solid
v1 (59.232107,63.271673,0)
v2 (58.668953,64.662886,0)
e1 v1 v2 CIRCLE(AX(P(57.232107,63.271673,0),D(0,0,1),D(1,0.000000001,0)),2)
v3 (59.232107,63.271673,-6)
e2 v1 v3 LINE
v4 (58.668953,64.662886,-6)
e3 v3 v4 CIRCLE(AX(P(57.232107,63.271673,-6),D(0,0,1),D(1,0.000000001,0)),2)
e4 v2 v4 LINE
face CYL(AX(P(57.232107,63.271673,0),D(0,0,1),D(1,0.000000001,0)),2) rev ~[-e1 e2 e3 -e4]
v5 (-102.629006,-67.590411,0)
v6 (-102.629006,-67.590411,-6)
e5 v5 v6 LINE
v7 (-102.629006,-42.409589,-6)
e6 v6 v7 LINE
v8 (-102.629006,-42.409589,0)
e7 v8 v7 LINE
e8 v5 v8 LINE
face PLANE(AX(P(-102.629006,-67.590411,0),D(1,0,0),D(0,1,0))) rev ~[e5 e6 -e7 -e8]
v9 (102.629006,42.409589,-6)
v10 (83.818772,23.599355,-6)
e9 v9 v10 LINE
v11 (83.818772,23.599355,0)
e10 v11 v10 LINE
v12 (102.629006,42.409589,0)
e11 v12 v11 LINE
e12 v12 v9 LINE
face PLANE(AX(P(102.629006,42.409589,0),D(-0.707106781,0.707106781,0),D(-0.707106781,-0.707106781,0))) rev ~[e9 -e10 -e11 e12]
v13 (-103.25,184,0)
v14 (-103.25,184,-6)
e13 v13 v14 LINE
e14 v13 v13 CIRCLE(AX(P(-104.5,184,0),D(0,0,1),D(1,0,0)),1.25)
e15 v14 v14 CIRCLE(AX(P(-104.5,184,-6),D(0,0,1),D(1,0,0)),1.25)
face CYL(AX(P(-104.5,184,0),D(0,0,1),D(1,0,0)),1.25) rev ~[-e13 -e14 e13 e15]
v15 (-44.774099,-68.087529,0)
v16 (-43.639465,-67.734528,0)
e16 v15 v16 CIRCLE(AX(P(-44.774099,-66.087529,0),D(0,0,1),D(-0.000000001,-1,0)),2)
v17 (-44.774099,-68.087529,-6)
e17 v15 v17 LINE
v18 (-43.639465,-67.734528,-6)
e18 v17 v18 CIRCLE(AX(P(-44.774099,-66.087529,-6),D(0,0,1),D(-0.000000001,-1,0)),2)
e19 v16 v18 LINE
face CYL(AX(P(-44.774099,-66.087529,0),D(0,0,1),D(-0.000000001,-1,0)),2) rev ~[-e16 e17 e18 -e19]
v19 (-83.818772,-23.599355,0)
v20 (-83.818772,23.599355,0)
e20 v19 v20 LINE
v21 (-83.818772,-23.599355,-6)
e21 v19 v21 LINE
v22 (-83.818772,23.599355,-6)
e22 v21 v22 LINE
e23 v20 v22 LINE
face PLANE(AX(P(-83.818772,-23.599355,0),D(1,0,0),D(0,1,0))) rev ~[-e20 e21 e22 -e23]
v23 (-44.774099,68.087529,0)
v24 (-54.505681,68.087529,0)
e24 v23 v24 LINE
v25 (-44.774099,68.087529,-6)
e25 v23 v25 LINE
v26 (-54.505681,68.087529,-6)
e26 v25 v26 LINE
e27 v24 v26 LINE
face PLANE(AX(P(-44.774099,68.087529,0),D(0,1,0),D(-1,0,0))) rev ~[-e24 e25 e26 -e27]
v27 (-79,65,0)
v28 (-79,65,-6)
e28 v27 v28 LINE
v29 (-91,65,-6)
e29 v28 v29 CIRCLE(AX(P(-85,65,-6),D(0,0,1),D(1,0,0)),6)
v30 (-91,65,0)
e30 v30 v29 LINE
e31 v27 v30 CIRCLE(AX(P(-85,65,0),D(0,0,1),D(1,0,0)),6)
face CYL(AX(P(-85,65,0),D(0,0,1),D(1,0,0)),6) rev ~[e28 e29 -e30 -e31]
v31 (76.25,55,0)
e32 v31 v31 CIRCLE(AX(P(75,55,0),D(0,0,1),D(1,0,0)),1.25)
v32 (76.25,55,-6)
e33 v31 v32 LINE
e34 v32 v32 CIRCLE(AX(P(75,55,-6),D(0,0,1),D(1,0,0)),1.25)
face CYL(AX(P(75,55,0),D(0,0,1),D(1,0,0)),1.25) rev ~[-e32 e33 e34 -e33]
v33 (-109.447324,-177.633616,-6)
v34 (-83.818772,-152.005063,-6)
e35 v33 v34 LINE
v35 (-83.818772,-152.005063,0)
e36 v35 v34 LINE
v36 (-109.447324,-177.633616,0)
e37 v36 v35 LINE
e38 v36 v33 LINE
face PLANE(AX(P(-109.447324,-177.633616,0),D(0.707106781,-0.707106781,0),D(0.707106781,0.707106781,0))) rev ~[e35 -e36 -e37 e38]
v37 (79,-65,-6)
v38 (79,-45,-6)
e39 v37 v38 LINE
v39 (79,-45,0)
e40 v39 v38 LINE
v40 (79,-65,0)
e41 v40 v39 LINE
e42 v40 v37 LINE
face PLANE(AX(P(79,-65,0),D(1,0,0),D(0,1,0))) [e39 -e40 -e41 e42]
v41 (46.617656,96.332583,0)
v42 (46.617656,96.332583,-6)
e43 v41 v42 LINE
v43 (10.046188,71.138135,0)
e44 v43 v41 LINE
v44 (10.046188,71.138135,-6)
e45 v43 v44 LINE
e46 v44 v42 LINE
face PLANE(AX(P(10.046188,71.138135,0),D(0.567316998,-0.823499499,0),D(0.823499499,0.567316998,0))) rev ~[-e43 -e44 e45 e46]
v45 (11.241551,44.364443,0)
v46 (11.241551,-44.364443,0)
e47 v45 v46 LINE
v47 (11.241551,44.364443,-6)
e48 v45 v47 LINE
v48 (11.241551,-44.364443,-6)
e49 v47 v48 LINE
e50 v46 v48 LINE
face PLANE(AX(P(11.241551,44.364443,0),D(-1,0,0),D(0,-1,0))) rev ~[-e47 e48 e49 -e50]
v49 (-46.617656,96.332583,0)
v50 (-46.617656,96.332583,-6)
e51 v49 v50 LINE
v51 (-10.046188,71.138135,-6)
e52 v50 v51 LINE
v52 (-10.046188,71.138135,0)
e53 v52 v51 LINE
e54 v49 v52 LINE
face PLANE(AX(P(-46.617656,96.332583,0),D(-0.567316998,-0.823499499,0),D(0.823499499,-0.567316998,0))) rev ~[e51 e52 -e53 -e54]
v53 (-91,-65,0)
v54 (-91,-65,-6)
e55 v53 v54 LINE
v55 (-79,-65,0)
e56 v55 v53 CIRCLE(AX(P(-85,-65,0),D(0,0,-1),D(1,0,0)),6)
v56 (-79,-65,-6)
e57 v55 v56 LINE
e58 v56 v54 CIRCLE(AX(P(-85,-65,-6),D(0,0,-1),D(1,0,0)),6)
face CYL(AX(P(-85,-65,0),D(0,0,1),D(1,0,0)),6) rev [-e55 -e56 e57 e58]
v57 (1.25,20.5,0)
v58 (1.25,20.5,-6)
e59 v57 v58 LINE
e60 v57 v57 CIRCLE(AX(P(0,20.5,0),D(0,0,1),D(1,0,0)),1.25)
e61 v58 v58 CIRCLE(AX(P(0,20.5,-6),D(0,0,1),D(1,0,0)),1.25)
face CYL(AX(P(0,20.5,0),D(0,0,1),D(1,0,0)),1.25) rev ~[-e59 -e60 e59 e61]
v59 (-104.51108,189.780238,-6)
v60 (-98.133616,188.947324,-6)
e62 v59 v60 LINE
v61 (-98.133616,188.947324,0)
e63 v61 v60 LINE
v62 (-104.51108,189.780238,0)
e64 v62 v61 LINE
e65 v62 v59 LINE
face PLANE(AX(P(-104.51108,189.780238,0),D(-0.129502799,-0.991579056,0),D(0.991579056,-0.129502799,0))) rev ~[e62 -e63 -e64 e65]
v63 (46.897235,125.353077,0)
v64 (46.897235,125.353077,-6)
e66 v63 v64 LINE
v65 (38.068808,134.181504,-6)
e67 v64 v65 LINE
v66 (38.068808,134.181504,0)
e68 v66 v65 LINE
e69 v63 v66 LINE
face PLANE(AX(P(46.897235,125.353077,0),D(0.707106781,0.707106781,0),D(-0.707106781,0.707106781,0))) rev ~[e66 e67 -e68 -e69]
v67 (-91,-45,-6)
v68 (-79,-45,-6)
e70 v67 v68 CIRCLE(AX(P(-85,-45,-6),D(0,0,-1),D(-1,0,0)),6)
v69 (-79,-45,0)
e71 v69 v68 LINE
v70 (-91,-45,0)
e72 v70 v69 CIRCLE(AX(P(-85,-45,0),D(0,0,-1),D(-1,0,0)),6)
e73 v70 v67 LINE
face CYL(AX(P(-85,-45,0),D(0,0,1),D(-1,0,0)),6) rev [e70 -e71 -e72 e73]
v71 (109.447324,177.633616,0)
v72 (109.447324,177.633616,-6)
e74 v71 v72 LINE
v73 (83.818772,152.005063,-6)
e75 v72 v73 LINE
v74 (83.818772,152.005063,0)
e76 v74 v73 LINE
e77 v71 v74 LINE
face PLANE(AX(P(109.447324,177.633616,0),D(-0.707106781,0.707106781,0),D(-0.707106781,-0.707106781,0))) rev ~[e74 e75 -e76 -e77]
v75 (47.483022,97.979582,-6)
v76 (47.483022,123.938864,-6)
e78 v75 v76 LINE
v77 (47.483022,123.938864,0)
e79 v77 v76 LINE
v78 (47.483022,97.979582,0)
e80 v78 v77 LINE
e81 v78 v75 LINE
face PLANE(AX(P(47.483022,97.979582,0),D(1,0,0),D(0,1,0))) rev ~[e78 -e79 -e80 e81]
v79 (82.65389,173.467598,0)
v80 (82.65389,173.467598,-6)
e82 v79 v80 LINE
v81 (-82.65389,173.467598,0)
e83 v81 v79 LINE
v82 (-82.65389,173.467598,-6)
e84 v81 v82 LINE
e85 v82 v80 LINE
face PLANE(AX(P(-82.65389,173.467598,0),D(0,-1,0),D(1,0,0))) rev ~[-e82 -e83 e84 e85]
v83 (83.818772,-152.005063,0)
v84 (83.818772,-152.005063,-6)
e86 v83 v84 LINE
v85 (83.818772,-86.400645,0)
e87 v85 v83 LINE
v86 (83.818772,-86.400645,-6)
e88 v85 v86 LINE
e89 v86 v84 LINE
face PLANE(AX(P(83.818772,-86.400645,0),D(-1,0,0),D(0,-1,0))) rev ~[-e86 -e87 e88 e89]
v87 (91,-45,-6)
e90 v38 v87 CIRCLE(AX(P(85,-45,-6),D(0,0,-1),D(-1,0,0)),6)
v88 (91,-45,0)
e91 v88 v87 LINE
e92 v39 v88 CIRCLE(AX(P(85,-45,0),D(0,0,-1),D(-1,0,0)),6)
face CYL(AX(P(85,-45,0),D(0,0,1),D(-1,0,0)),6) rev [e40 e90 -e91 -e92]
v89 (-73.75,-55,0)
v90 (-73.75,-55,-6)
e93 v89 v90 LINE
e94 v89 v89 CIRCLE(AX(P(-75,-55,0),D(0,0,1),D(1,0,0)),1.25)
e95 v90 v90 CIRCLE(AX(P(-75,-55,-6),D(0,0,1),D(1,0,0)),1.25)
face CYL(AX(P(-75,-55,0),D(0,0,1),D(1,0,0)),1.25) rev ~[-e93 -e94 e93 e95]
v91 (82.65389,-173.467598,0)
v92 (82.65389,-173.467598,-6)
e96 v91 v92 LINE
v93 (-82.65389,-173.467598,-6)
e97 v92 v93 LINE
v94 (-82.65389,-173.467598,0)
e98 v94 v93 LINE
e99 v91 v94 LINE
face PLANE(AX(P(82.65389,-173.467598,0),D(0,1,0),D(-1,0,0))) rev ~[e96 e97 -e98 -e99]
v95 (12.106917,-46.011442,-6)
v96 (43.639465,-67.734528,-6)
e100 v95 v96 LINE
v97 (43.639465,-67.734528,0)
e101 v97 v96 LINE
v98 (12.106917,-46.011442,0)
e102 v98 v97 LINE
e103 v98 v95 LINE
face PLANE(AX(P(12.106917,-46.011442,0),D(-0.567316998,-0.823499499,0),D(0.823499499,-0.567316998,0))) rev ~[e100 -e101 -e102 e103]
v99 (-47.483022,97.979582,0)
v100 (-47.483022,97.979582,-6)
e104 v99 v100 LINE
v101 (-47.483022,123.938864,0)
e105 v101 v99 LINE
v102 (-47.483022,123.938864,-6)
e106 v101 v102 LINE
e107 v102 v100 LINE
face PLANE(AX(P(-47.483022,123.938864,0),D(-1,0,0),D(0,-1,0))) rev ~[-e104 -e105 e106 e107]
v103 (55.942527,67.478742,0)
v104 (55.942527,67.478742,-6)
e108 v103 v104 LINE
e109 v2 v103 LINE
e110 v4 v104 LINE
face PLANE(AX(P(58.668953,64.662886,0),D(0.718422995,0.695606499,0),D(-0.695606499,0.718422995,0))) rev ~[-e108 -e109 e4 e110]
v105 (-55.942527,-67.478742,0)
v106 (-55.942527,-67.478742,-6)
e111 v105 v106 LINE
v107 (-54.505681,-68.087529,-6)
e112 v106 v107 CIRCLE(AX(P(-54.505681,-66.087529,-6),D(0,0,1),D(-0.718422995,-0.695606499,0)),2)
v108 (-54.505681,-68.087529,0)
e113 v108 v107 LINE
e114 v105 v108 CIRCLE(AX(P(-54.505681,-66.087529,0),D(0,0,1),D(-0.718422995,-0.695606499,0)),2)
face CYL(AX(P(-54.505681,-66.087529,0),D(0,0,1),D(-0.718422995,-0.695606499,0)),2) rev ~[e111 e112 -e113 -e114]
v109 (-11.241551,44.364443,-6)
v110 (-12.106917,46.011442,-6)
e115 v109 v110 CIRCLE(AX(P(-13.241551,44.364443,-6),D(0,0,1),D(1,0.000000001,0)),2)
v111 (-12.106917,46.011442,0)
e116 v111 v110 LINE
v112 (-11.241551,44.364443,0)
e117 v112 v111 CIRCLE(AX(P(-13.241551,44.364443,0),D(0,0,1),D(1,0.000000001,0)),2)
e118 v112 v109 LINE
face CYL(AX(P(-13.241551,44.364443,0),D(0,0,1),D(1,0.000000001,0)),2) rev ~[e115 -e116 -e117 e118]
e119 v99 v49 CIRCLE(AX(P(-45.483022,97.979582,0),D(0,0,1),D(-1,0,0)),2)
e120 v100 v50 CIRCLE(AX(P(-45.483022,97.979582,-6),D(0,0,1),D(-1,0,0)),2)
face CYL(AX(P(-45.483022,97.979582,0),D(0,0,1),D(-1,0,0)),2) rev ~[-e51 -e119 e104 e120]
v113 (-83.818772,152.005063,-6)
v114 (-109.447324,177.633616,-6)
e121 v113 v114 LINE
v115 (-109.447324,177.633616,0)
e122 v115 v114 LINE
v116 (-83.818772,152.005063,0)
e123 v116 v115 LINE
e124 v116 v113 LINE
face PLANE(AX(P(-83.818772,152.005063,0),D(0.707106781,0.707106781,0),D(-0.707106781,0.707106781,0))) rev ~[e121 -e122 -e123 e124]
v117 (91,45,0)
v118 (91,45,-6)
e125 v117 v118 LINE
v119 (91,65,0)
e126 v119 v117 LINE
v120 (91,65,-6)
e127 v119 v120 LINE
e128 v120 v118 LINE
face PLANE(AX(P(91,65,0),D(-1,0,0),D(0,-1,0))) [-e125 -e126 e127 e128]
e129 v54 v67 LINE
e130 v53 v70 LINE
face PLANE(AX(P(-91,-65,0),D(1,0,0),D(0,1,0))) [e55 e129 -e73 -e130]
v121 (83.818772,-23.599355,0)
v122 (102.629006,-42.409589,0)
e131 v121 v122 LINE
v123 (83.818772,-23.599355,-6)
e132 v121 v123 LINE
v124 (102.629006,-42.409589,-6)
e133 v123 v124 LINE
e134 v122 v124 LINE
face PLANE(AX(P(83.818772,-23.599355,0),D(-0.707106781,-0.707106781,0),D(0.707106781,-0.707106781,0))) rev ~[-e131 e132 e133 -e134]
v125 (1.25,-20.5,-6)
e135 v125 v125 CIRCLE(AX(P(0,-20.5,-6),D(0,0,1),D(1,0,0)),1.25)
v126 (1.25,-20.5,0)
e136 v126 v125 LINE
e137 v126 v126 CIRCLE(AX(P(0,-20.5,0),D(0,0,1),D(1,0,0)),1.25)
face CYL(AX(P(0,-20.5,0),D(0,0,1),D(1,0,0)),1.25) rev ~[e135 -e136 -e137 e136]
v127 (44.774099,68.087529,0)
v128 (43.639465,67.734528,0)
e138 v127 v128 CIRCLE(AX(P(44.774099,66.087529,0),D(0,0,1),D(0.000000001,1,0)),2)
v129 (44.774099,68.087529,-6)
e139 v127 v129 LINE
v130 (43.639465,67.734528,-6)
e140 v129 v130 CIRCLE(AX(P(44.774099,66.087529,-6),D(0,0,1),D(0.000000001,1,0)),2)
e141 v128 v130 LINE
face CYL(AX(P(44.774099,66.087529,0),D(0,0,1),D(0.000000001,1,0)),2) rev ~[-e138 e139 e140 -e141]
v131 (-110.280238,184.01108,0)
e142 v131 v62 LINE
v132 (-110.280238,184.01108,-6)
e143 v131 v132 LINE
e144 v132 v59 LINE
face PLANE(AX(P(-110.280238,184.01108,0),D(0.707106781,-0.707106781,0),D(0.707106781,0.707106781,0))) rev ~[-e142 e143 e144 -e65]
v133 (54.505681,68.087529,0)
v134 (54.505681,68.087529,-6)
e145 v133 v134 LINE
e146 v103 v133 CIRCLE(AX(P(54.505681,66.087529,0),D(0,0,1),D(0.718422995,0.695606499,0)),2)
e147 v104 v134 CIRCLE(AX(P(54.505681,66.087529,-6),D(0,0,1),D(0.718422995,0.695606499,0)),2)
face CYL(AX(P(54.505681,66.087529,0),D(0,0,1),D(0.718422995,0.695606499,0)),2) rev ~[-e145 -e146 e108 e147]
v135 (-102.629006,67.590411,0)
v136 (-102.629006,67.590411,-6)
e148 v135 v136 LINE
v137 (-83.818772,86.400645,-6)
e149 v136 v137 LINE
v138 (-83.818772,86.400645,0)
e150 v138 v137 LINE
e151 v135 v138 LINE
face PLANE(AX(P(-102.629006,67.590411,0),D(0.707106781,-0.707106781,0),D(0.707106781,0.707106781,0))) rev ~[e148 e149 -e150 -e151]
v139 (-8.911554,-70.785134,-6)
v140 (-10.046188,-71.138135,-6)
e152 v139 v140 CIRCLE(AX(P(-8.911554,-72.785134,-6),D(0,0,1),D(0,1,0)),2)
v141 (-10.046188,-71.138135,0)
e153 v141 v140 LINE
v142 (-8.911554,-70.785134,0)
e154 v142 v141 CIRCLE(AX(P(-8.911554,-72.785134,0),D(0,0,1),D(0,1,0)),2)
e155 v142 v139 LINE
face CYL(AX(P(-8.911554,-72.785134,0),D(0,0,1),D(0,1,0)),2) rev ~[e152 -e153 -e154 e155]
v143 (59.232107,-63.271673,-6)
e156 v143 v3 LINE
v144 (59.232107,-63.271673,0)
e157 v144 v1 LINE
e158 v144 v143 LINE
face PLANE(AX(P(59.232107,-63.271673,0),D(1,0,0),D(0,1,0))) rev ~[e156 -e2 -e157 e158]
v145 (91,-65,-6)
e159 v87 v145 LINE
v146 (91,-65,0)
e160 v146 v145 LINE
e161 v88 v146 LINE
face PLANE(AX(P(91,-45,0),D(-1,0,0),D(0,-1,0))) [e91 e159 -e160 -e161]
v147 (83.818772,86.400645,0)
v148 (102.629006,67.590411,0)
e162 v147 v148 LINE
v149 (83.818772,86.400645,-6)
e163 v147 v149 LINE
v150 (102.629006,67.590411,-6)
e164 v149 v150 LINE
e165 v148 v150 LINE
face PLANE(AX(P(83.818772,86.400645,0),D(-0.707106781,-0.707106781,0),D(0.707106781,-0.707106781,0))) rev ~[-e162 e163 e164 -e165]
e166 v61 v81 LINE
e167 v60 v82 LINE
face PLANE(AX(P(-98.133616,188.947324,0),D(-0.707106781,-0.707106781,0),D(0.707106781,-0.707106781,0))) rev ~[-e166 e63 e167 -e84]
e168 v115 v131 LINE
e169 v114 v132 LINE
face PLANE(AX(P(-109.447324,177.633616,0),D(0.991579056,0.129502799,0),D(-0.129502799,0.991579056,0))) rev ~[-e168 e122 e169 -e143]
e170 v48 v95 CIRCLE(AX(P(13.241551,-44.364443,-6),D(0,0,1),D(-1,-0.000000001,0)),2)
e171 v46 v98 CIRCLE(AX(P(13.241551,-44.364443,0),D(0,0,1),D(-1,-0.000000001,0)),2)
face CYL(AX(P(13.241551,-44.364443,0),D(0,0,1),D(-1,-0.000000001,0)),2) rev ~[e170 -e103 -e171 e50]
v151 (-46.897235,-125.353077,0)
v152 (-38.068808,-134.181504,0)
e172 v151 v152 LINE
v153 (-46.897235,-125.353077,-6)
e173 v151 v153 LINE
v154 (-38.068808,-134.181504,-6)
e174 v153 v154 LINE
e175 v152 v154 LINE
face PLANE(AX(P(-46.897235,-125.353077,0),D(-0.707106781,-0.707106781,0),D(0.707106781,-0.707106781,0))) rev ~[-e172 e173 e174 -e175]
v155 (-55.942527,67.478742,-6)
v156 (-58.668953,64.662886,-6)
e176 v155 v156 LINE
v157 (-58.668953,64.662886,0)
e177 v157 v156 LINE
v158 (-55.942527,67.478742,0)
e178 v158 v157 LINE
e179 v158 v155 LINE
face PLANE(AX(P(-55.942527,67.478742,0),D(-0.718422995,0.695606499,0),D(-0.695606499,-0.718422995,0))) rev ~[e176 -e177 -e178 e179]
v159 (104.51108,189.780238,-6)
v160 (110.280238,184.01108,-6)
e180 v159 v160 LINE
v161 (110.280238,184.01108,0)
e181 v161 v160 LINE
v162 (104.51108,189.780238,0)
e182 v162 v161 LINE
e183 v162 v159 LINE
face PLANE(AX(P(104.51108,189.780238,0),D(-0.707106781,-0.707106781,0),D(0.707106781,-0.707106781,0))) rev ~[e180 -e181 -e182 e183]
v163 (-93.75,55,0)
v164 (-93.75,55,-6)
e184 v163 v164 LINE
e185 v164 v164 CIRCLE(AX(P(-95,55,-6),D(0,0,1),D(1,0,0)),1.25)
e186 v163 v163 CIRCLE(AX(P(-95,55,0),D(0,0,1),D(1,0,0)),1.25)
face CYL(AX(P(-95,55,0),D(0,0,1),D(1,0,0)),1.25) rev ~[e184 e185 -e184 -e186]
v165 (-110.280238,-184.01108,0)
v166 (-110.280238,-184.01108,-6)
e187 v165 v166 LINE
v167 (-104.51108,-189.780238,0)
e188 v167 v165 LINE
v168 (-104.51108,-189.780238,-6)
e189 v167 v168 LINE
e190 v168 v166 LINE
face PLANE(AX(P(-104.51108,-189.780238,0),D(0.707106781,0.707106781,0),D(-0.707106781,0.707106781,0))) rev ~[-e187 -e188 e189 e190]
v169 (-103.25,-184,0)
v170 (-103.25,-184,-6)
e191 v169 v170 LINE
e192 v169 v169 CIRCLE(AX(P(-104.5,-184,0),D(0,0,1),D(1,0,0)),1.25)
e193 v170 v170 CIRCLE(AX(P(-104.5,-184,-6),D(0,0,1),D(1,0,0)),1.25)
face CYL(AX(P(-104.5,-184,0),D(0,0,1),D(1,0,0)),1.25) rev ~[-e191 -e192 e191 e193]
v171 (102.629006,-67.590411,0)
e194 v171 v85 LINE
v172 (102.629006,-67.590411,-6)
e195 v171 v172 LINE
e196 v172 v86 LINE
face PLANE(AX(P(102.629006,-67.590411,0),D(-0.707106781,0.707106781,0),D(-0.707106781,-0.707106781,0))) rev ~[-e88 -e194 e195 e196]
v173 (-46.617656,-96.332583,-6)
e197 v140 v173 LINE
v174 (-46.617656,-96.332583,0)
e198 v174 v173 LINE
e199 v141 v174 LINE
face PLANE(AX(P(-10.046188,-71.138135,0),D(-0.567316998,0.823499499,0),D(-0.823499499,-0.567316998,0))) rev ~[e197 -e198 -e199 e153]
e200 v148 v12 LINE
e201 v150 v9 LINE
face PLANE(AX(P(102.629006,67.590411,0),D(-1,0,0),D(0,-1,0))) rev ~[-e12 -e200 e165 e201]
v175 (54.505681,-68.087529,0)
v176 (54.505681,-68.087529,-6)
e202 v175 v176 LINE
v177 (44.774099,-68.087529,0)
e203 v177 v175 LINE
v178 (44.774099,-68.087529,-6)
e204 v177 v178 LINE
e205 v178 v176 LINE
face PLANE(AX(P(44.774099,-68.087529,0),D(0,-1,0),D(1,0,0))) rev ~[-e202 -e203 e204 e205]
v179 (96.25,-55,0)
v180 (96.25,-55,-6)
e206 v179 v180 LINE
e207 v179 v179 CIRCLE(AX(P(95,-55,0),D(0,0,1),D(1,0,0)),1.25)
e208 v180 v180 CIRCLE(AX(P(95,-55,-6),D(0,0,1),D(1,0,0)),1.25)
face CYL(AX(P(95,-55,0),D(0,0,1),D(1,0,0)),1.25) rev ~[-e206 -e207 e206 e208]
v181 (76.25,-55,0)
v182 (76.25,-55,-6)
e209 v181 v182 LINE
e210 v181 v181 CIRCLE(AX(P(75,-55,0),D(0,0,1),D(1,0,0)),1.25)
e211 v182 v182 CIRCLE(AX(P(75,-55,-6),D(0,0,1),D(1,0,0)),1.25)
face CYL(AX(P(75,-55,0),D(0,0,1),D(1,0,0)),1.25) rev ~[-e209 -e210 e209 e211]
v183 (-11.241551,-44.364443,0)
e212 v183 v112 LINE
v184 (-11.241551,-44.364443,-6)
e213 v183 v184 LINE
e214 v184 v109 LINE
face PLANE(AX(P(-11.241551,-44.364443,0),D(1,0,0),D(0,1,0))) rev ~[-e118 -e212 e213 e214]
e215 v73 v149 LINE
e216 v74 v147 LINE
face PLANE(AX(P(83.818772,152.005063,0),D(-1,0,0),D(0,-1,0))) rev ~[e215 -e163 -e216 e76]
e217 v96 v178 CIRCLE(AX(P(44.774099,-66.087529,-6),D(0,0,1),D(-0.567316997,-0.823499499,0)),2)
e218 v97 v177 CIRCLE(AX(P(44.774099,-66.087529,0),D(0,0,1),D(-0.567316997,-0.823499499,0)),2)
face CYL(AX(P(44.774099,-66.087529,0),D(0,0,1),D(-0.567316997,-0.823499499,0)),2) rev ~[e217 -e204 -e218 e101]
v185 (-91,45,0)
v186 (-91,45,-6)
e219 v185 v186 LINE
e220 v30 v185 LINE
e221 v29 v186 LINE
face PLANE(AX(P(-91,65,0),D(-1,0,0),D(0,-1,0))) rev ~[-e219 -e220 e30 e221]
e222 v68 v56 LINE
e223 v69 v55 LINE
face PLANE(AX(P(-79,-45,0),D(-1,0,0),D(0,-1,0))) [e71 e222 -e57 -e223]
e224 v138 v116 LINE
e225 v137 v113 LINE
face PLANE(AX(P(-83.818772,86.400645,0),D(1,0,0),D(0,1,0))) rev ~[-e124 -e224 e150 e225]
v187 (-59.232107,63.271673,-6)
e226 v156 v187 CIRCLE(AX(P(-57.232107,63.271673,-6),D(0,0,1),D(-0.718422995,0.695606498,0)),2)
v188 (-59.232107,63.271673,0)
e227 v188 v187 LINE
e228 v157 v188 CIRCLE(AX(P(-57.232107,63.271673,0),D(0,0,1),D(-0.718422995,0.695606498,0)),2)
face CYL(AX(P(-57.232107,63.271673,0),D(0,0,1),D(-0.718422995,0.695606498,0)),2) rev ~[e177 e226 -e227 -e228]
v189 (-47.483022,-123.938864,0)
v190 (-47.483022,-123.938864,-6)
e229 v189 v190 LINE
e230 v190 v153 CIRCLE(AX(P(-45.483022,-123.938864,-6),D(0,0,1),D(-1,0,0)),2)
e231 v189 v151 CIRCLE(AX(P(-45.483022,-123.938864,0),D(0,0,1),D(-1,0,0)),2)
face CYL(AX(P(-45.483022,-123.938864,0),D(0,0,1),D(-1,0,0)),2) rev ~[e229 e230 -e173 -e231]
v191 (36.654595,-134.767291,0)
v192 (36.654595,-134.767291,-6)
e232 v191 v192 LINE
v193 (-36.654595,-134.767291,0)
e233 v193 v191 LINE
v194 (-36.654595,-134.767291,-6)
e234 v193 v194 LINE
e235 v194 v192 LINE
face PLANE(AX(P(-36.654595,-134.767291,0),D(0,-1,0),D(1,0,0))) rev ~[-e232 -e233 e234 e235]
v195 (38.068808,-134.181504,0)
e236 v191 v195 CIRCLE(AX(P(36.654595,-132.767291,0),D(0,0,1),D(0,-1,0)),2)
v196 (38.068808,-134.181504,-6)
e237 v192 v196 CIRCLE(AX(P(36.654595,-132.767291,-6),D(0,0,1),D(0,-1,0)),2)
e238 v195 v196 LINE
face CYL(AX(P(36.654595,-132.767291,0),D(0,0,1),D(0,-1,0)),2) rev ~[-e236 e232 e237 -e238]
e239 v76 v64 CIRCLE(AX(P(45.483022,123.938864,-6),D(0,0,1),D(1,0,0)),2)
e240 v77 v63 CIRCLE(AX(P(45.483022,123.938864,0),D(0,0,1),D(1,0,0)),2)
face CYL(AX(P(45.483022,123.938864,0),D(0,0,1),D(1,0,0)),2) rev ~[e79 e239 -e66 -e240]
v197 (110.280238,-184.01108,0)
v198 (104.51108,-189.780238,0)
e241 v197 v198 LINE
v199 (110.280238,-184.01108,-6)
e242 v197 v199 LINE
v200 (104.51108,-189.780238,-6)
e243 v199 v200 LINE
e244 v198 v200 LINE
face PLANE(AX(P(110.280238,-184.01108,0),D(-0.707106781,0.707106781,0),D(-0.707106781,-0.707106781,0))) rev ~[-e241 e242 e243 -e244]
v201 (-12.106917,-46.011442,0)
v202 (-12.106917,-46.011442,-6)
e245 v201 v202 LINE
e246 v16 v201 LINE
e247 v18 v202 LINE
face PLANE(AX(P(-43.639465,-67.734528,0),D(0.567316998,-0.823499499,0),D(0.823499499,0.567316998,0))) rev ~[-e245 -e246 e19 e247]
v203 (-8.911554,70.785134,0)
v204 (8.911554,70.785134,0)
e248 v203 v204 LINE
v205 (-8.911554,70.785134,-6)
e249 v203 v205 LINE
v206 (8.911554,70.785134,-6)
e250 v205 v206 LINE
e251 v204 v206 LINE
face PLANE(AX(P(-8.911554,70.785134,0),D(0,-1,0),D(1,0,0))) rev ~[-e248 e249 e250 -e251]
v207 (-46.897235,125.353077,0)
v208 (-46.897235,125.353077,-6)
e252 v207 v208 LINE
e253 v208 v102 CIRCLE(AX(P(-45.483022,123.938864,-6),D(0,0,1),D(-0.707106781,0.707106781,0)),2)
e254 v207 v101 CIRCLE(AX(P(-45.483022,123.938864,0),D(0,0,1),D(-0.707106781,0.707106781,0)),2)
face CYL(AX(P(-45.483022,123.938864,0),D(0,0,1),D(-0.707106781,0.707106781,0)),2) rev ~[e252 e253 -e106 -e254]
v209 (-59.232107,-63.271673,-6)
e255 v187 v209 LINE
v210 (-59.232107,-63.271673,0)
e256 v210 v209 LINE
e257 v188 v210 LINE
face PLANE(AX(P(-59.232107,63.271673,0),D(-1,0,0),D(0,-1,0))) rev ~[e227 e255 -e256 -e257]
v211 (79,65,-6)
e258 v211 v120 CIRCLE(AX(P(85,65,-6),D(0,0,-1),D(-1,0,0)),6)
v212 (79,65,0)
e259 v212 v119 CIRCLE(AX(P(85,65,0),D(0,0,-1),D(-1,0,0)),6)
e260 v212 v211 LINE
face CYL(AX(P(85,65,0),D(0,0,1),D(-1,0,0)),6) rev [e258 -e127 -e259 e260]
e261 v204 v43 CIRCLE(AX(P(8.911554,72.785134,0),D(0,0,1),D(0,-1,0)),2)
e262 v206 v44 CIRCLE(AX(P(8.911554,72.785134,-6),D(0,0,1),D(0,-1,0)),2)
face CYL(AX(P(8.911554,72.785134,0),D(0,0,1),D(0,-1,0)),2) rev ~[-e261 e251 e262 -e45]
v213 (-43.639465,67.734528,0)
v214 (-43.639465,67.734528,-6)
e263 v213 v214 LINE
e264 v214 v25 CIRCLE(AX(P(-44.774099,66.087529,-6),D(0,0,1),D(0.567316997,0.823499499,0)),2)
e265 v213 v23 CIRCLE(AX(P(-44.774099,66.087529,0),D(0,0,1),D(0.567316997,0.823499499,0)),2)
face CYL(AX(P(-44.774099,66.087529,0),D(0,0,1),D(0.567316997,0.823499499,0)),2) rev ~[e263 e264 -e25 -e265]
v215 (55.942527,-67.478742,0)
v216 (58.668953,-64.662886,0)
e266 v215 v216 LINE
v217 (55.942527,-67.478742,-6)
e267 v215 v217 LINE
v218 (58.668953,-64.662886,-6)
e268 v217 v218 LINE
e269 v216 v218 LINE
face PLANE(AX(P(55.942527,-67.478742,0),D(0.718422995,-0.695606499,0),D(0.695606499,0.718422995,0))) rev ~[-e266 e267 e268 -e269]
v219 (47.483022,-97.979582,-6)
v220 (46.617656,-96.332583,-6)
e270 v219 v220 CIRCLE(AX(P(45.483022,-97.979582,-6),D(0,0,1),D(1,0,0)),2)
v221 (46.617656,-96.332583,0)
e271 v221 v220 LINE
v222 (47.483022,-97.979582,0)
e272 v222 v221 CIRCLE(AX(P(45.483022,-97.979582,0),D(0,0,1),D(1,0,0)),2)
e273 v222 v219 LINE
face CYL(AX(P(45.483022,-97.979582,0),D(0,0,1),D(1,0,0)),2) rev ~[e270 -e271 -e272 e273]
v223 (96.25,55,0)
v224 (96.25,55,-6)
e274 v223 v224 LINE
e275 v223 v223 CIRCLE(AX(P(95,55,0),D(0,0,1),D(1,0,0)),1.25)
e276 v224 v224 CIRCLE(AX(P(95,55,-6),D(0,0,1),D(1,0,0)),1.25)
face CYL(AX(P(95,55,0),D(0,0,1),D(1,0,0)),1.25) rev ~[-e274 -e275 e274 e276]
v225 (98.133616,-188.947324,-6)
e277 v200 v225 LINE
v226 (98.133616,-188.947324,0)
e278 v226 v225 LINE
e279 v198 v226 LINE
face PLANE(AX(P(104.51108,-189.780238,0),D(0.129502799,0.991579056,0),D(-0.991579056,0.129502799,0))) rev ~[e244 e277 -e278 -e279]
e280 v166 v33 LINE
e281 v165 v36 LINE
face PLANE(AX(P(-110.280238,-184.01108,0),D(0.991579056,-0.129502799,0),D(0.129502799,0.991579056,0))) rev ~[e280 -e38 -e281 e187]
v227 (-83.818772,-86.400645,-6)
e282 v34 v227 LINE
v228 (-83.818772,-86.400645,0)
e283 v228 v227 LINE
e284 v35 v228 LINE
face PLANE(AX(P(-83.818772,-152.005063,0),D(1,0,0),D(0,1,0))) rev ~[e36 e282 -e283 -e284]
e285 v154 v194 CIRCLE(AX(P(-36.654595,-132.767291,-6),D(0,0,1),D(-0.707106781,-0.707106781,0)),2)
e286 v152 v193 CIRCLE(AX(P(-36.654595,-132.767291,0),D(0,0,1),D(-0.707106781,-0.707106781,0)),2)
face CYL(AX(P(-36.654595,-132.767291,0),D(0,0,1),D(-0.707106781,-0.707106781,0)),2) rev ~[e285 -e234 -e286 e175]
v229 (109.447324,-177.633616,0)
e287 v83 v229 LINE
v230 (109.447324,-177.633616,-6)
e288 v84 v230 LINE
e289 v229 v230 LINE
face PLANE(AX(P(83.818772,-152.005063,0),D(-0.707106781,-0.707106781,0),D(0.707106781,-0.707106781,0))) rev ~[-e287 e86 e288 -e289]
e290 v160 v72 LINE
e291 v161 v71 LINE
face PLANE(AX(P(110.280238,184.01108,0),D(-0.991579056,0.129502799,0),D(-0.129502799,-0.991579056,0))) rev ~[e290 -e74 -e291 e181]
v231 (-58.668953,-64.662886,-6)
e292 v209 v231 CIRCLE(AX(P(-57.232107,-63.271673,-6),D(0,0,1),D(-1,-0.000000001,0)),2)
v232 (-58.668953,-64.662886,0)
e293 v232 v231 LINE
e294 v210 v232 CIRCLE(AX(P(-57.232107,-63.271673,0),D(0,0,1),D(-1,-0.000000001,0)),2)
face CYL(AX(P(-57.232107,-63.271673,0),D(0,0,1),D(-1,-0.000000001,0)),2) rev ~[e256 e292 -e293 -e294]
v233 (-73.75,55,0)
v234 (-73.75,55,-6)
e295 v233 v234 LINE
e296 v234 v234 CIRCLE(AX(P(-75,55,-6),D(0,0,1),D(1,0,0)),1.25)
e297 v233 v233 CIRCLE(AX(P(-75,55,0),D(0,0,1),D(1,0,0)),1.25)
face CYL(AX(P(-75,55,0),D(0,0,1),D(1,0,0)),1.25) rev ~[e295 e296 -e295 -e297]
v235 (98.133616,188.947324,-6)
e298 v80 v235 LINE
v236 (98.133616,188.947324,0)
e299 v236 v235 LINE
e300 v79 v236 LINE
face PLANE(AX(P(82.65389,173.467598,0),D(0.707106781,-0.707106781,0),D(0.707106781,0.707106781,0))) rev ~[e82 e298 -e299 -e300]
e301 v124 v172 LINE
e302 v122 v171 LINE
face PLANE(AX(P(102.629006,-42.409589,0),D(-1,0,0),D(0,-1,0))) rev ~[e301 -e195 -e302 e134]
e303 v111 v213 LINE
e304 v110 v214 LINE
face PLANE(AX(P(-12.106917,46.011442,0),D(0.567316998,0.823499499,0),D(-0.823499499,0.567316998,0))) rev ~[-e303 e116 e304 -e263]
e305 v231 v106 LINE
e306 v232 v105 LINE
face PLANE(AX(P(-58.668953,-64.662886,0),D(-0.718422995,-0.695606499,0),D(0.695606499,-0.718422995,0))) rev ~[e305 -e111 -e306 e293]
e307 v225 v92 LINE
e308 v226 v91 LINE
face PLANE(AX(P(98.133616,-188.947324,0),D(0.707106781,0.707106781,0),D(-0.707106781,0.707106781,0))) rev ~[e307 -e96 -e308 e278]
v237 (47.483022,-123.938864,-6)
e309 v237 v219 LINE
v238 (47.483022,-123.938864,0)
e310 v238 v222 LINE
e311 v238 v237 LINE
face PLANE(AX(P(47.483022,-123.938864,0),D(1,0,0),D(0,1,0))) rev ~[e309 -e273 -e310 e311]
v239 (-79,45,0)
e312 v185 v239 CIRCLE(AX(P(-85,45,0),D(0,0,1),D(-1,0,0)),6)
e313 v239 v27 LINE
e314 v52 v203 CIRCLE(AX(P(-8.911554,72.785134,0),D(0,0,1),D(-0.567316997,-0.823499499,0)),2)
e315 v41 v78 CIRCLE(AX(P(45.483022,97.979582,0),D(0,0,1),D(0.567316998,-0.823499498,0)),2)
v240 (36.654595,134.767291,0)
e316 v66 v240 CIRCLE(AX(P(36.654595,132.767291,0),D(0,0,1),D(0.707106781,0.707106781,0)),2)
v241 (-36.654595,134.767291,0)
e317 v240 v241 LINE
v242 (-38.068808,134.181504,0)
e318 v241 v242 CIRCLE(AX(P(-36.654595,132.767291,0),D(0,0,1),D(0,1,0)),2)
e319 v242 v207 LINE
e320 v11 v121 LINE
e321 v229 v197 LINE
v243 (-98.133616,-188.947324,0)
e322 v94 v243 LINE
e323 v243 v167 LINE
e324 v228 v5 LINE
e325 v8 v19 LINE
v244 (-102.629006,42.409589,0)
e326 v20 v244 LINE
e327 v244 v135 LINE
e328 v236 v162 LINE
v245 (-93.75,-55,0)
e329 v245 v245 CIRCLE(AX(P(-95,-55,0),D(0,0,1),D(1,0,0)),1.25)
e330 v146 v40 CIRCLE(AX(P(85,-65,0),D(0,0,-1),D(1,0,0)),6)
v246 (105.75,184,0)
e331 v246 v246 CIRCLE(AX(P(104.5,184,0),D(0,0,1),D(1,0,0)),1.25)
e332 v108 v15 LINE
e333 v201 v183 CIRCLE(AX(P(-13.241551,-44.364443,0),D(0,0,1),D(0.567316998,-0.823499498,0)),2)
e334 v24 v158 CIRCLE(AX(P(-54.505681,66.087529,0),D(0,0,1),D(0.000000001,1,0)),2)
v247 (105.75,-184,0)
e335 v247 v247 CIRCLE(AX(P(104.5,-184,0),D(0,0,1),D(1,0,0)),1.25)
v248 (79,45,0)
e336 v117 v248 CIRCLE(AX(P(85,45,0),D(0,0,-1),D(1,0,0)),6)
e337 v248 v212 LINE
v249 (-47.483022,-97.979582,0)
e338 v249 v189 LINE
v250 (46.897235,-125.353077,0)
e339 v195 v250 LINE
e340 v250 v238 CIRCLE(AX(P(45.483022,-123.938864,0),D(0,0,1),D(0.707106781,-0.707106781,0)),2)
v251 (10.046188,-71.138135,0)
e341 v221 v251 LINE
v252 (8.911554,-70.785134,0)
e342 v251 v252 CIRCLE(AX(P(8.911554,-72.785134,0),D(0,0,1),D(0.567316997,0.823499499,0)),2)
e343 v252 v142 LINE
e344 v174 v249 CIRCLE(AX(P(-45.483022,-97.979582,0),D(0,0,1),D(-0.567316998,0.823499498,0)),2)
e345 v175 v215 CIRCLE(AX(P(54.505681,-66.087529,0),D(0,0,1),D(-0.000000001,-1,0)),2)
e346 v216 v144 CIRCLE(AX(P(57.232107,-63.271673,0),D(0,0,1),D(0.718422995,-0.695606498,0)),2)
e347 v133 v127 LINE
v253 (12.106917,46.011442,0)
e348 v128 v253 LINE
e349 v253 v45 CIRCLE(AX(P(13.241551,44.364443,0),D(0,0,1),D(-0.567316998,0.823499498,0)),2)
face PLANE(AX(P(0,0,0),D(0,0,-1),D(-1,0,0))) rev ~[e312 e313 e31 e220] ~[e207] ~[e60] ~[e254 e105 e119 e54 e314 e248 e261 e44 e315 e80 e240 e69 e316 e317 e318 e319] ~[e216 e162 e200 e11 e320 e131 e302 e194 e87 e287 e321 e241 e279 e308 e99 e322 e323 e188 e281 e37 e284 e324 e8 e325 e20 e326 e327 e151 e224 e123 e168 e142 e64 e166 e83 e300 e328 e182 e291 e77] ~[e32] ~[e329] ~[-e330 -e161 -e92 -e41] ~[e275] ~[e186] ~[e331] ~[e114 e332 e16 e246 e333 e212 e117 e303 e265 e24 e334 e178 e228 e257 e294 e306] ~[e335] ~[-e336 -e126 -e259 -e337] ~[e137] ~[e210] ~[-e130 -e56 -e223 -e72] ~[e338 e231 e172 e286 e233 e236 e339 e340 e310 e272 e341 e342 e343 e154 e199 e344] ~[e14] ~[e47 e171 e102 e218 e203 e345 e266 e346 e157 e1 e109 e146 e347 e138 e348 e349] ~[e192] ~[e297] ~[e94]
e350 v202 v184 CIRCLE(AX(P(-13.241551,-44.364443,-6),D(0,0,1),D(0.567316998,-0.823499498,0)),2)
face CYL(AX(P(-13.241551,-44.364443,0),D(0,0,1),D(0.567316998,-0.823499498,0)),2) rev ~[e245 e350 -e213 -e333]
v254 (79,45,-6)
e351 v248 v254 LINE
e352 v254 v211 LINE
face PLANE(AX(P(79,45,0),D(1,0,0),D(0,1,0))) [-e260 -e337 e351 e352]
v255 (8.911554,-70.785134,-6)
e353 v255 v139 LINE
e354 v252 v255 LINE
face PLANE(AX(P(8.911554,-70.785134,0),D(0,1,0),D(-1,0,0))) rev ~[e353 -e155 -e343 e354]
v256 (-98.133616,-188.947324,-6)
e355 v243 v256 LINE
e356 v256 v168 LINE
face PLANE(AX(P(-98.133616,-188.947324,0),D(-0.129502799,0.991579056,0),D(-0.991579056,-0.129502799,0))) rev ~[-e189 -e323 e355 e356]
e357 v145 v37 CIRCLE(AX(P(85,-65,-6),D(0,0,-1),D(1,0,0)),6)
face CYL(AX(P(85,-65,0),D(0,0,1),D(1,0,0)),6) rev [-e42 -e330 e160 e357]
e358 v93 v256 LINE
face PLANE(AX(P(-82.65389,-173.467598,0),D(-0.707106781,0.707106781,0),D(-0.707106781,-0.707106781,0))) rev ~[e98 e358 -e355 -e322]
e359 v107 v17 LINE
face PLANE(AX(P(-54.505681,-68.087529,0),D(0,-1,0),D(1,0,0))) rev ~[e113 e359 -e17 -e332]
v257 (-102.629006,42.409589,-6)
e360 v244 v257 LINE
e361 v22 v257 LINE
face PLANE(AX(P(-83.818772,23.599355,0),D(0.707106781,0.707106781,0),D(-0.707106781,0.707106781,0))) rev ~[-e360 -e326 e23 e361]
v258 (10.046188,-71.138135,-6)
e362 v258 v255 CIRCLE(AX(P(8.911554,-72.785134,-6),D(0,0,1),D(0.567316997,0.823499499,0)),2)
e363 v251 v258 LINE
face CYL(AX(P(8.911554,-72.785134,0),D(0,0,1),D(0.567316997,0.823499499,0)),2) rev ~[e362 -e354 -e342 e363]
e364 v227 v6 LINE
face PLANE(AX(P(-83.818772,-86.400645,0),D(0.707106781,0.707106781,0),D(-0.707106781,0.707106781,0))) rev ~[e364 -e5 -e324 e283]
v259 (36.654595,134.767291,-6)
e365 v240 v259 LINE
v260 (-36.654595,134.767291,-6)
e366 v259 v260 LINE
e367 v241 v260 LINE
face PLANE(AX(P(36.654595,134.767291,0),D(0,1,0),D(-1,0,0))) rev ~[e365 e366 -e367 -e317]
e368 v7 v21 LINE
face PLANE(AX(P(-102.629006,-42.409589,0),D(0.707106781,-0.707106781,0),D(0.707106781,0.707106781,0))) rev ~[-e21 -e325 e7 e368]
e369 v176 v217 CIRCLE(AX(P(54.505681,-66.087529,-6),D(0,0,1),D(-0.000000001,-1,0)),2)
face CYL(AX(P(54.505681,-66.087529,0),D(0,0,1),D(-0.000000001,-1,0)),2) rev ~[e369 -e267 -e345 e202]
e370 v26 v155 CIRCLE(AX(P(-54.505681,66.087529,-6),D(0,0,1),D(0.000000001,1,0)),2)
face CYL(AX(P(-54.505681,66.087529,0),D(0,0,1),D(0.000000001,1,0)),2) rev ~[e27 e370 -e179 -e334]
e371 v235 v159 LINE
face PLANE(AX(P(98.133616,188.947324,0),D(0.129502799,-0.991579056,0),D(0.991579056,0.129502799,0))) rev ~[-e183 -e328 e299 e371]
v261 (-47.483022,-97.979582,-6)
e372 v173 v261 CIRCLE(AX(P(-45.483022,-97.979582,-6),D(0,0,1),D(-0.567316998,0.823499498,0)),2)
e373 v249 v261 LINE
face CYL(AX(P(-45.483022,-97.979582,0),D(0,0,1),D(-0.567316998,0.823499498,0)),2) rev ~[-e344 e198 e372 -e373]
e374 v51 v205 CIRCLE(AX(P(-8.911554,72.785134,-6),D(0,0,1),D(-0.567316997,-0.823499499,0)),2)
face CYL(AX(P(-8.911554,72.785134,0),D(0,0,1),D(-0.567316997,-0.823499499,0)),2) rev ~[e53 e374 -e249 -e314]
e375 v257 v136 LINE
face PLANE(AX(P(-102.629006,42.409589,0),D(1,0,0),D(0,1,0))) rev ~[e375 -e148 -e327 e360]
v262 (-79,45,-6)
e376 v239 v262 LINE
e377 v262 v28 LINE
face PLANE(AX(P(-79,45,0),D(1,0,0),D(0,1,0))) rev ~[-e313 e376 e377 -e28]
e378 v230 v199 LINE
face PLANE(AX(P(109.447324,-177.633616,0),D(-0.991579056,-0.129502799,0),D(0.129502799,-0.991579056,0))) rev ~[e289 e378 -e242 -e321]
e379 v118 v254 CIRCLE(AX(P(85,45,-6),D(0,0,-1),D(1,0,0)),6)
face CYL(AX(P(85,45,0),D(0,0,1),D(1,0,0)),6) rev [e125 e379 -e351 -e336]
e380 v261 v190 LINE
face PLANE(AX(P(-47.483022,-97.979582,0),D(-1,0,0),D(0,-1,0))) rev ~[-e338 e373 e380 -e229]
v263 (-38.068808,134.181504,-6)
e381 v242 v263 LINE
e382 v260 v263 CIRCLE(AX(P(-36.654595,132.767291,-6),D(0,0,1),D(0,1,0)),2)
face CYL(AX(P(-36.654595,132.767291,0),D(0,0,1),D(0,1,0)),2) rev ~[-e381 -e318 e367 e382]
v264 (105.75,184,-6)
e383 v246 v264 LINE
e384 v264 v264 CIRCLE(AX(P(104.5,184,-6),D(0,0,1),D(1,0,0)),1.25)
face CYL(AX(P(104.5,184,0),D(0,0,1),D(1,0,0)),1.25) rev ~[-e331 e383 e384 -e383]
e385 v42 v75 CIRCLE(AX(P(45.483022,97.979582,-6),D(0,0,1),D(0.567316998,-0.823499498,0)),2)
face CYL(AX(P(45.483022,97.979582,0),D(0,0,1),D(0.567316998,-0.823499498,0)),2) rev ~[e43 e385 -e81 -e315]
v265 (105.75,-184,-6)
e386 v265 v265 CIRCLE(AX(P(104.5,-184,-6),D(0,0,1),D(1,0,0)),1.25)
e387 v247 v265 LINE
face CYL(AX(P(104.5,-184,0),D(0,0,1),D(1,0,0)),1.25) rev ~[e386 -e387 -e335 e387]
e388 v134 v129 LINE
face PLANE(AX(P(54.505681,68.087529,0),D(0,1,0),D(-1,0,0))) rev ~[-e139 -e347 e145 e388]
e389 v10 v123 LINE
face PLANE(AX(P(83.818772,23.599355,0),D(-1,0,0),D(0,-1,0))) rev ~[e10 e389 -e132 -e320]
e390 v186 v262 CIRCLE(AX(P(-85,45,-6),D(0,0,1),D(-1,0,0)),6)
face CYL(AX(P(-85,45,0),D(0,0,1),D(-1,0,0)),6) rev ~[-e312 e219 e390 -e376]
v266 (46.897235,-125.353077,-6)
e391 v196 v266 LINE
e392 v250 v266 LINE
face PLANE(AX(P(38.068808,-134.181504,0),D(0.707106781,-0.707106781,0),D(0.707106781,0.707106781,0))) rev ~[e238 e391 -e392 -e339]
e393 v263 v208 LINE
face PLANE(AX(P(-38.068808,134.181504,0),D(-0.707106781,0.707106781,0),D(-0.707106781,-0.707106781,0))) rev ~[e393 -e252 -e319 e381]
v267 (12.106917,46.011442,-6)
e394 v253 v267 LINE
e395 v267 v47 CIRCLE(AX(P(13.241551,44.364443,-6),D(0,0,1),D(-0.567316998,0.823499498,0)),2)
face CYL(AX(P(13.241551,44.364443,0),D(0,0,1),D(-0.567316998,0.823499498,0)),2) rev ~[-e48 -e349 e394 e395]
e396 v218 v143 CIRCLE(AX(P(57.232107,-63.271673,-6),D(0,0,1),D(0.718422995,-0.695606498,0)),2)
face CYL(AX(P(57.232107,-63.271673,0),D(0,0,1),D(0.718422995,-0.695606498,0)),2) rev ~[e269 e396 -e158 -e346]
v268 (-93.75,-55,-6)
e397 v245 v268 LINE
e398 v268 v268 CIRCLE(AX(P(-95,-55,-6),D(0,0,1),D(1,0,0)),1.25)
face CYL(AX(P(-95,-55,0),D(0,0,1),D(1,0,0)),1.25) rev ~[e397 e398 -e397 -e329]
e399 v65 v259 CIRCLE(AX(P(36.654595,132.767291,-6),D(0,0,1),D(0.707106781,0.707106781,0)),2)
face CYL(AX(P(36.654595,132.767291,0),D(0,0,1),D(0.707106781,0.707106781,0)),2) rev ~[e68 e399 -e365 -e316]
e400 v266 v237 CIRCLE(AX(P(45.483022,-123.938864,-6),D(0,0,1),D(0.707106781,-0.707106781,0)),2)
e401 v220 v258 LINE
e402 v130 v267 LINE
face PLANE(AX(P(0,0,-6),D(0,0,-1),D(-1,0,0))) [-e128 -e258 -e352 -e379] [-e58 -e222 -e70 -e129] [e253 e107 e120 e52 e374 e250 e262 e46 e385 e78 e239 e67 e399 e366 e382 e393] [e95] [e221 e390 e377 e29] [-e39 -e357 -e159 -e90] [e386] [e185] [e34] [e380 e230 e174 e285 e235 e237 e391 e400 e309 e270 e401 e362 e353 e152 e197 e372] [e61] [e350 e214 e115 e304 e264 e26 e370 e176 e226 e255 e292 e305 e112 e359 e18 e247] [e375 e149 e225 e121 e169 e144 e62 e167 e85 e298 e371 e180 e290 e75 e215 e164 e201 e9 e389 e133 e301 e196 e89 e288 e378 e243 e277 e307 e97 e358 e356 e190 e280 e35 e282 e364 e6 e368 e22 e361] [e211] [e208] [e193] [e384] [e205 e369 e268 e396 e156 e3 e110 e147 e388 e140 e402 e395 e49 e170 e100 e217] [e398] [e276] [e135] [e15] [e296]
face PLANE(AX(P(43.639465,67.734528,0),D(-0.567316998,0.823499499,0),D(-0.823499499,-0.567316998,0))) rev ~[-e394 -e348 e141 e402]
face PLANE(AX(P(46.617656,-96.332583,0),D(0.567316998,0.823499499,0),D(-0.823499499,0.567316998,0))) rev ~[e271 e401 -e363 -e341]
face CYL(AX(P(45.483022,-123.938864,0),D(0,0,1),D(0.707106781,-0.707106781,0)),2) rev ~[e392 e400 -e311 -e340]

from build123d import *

# Parameters (mm, degrees)
SCHIZZO1_R                   = 1.25
ESTRUSIONE_ESTRUSIONE1_DEPTH = 6


with BuildPart() as part:
    # Schizzo1 → Estrusione-Estrusione1 (new body)
    with BuildSketch(Plane.XY):
        Polygon((-110.280237788, 184.011080088), (-104.511080088, 189.780237788), (-98.133615912, 188.947324411), (-82.653889721, 173.46759822), (82.653889721, 173.46759822), (98.133615912, 188.947324411), (104.511080088, 189.780237788), (110.280237788, 184.011080088), (109.447324411, 177.633615912), (83.818771539, 152.00506304), (83.818771539, 86.400644995), (102.629005707, 67.590410826), (102.629005707, 42.409589174), (83.818771539, 23.599355005), (83.818771539, -23.599355005), (102.629005707, -42.409589174), (102.629005707, -67.590410826), (83.818771539, -86.400644995), (83.818771539, -152.00506304), (109.447324411, -177.633615912), (110.280237788, -184.011080088), (104.511080088, -189.780237788), (98.133615912, -188.947324411), (82.653889721, -173.46759822), (-82.653889721, -173.46759822), (-98.133615912, -188.947324411), (-104.511080088, -189.780237788), (-110.280237788, -184.011080088), (-109.447324411, -177.633615912), (-83.818771539, -152.00506304), (-83.818771539, -86.400644995), (-102.629005707, -67.590410826), (-102.629005707, -42.409589174), (-83.818771539, -23.599355005), (-83.818771539, 23.599355005), (-102.629005707, 42.409589174), (-102.629005707, 67.590410826), (-83.818771539, 86.400644995), (-83.818771539, 152.00506304), (-109.447324411, 177.633615912), align=None)
        with Locations((-95, 55)):
            Circle(SCHIZZO1_R, mode=Mode.SUBTRACT)
        with Locations((-75, 55)):
            Circle(SCHIZZO1_R, mode=Mode.SUBTRACT)
        with Locations((-104.5, 184)):
            Circle(SCHIZZO1_R, mode=Mode.SUBTRACT)
        with Locations((0, 20.5)):
            Circle(SCHIZZO1_R, mode=Mode.SUBTRACT)
        with Locations((104.5, 184)):
            Circle(SCHIZZO1_R, mode=Mode.SUBTRACT)
        with Locations((75, 55)):
            Circle(SCHIZZO1_R, mode=Mode.SUBTRACT)
        with Locations((95, 55)):
            Circle(SCHIZZO1_R, mode=Mode.SUBTRACT)
        with Locations((95, -55)):
            Circle(SCHIZZO1_R, mode=Mode.SUBTRACT)
        with Locations((75, -55)):
            Circle(SCHIZZO1_R, mode=Mode.SUBTRACT)
        with Locations((104.5, -184)):
            Circle(SCHIZZO1_R, mode=Mode.SUBTRACT)
        with Locations((0, -20.5)):
            Circle(SCHIZZO1_R, mode=Mode.SUBTRACT)
        with Locations((-104.5, -184)):
            Circle(SCHIZZO1_R, mode=Mode.SUBTRACT)
        with Locations((-75, -55)):
            Circle(SCHIZZO1_R, mode=Mode.SUBTRACT)
        with Locations((-95, -55)):
            Circle(SCHIZZO1_R, mode=Mode.SUBTRACT)
        with BuildLine():
            Line((-59.232107436, 63.271672811), (-59.232107436, -63.271672811))
            ThreePointArc((-59.232107436, -63.271672811), (-59.085980675, -64.022108692), (-58.668953425, -64.662885808))
            Line((-58.668953425, -64.662885808), (-55.942526616, -67.478741779))
            ThreePointArc((-55.942526616, -67.478741779), (-55.285928666, -67.929053421), (-54.505680627, -68.087528781))
            Line((-54.505680627, -68.087528781), (-44.774099334, -68.087528781))
            ThreePointArc((-44.774099334, -68.087528781), (-44.179960459, -67.997240539), (-43.639465339, -67.734527779))
            Line((-43.639465339, -67.734527779), (-12.106917048, -46.011441546))
            ThreePointArc((-12.106917048, -46.011441546), (-11.471061282, -45.294693055), (-11.241551043, -44.364442549))
            Line((-11.241551043, -44.364442549), (-11.241551043, 44.364442549))
            ThreePointArc((-11.241551043, 44.364442549), (-11.471061282, 45.294693055), (-12.106917048, 46.011441546))
            Line((-12.106917048, 46.011441546), (-43.639465339, 67.734527779))
            ThreePointArc((-43.639465339, 67.734527779), (-44.179960459, 67.997240539), (-44.774099334, 68.087528781))
            Line((-44.774099334, 68.087528781), (-54.505680627, 68.087528781))
            ThreePointArc((-54.505680627, 68.087528781), (-55.285928666, 67.929053421), (-55.942526616, 67.478741779))
            Line((-55.942526616, 67.478741779), (-58.668953425, 64.662885808))
            ThreePointArc((-58.668953425, 64.662885808), (-59.085980675, 64.022108692), (-59.232107436, 63.271672811))
        make_face(mode=Mode.SUBTRACT)
        with BuildLine():
            Line((79, 45), (79, 65))
            ThreePointArc((79, 65), (85, 71), (91, 65))
            Line((91, 65), (91, 45))
            ThreePointArc((91, 45), (85, 39), (79, 45))
        make_face(mode=Mode.SUBTRACT)
        with BuildLine():
            Line((-47.48302182, 123.938863738), (-47.48302182, 97.979582184))
            ThreePointArc((-47.48302182, 97.979582184), (-47.253511581, 97.049331677), (-46.617655815, 96.332583186))
            Line((-46.617655815, 96.332583186), (-10.046187512, 71.138134825))
            ThreePointArc((-10.046187512, 71.138134825), (-9.505692391, 70.875422065), (-8.911553517, 70.785133823))
            Line((-8.911553517, 70.785133823), (8.911553517, 70.785133823))
            ThreePointArc((8.911553517, 70.785133823), (9.505692391, 70.875422065), (10.046187512, 71.138134825))
            Line((10.046187512, 71.138134825), (46.617655815, 96.332583186))
            ThreePointArc((46.617655815, 96.332583186), (47.253511581, 97.049331677), (47.48302182, 97.979582184))
            Line((47.48302182, 97.979582184), (47.48302182, 123.938863738))
            ThreePointArc((47.48302182, 123.938863738), (47.330780885, 124.704230603), (46.897235382, 125.353077301))
            Line((46.897235382, 125.353077301), (38.068808258, 134.181504425))
            ThreePointArc((38.068808258, 134.181504425), (37.41996156, 134.615049928), (36.654594695, 134.767290863))
            Line((36.654594695, 134.767290863), (-36.654594695, 134.767290863))
            ThreePointArc((-36.654594695, 134.767290863), (-37.41996156, 134.615049928), (-38.068808258, 134.181504425))
            Line((-38.068808258, 134.181504425), (-46.897235382, 125.353077301))
            ThreePointArc((-46.897235382, 125.353077301), (-47.330780885, 124.704230603), (-47.48302182, 123.938863738))
        make_face(mode=Mode.SUBTRACT)
        with BuildLine():
            Line((-79, 45), (-79, 65))
            ThreePointArc((-79, 65), (-85, 71), (-91, 65))
            Line((-91, 65), (-91, 45))
            ThreePointArc((-91, 45), (-85, 39), (-79, 45))
        make_face(mode=Mode.SUBTRACT)
        with BuildLine():
            Line((91, -45), (91, -65))
            ThreePointArc((91, -65), (85, -71), (79, -65))
            Line((79, -65), (79, -45))
            ThreePointArc((79, -45), (85, -39), (91, -45))
        make_face(mode=Mode.SUBTRACT)
        with BuildLine():
            Line((-79, -45), (-79, -65))
            ThreePointArc((-79, -65), (-85, -71), (-91, -65))
            Line((-91, -65), (-91, -45))
            ThreePointArc((-91, -45), (-85, -39), (-79, -45))
        make_face(mode=Mode.SUBTRACT)
        with BuildLine():
            Line((43.639465339, 67.734527779), (12.106917048, 46.011441546))
            ThreePointArc((12.106917048, 46.011441546), (11.471061282, 45.294693055), (11.241551043, 44.364442549))
            Line((11.241551043, 44.364442549), (11.241551043, -44.364442549))
            ThreePointArc((11.241551043, -44.364442549), (11.471061282, -45.294693055), (12.106917048, -46.011441546))
            Line((12.106917048, -46.011441546), (43.639465339, -67.734527779))
            ThreePointArc((43.639465339, -67.734527779), (44.179960459, -67.997240539), (44.774099334, -68.087528781))
            Line((44.774099334, -68.087528781), (54.505680627, -68.087528781))
            ThreePointArc((54.505680627, -68.087528781), (55.285928666, -67.929053421), (55.942526616, -67.478741779))
            Line((55.942526616, -67.478741779), (58.668953425, -64.662885808))
            ThreePointArc((58.668953425, -64.662885808), (59.085980675, -64.022108692), (59.232107436, -63.271672811))
            Line((59.232107436, -63.271672811), (59.232107436, 63.271672811))
            ThreePointArc((59.232107436, 63.271672811), (59.085980675, 64.022108692), (58.668953425, 64.662885808))
            Line((58.668953425, 64.662885808), (55.942526616, 67.478741779))
            ThreePointArc((55.942526616, 67.478741779), (55.285928666, 67.929053421), (54.505680627, 68.087528781))
            Line((54.505680627, 68.087528781), (44.774099334, 68.087528781))
            ThreePointArc((44.774099334, 68.087528781), (44.179960459, 67.997240539), (43.639465339, 67.734527779))
        make_face(mode=Mode.SUBTRACT)
        with BuildLine():
            Line((-36.654594695, -134.767290863), (36.654594695, -134.767290863))
            ThreePointArc((36.654594695, -134.767290863), (37.41996156, -134.615049928), (38.068808258, -134.181504425))
            Line((38.068808258, -134.181504425), (46.897235382, -125.353077301))
            ThreePointArc((46.897235382, -125.353077301), (47.330780885, -124.704230603), (47.48302182, -123.938863738))
            Line((47.48302182, -123.938863738), (47.48302182, -97.979582184))
            ThreePointArc((47.48302182, -97.979582184), (47.253511581, -97.049331677), (46.617655815, -96.332583186))
            Line((46.617655815, -96.332583186), (10.046187512, -71.138134825))
            ThreePointArc((10.046187512, -71.138134825), (9.505692391, -70.875422065), (8.911553517, -70.785133823))
            Line((8.911553517, -70.785133823), (-8.911553517, -70.785133823))
            ThreePointArc((-8.911553517, -70.785133823), (-9.505692391, -70.875422065), (-10.046187512, -71.138134825))
            Line((-10.046187512, -71.138134825), (-46.617655815, -96.332583186))
            ThreePointArc((-46.617655815, -96.332583186), (-47.253511581, -97.049331677), (-47.48302182, -97.979582184))
            Line((-47.48302182, -97.979582184), (-47.48302182, -123.938863738))
            ThreePointArc((-47.48302182, -123.938863738), (-47.330780885, -124.704230603), (-46.897235382, -125.353077301))
            Line((-46.897235382, -125.353077301), (-38.068808258, -134.181504425))
            ThreePointArc((-38.068808258, -134.181504425), (-37.41996156, -134.615049928), (-36.654594695, -134.767290863))
        make_face(mode=Mode.SUBTRACT)
    extrude(amount=-ESTRUSIONE_ESTRUSIONE1_DEPTH)


solid = part.part
